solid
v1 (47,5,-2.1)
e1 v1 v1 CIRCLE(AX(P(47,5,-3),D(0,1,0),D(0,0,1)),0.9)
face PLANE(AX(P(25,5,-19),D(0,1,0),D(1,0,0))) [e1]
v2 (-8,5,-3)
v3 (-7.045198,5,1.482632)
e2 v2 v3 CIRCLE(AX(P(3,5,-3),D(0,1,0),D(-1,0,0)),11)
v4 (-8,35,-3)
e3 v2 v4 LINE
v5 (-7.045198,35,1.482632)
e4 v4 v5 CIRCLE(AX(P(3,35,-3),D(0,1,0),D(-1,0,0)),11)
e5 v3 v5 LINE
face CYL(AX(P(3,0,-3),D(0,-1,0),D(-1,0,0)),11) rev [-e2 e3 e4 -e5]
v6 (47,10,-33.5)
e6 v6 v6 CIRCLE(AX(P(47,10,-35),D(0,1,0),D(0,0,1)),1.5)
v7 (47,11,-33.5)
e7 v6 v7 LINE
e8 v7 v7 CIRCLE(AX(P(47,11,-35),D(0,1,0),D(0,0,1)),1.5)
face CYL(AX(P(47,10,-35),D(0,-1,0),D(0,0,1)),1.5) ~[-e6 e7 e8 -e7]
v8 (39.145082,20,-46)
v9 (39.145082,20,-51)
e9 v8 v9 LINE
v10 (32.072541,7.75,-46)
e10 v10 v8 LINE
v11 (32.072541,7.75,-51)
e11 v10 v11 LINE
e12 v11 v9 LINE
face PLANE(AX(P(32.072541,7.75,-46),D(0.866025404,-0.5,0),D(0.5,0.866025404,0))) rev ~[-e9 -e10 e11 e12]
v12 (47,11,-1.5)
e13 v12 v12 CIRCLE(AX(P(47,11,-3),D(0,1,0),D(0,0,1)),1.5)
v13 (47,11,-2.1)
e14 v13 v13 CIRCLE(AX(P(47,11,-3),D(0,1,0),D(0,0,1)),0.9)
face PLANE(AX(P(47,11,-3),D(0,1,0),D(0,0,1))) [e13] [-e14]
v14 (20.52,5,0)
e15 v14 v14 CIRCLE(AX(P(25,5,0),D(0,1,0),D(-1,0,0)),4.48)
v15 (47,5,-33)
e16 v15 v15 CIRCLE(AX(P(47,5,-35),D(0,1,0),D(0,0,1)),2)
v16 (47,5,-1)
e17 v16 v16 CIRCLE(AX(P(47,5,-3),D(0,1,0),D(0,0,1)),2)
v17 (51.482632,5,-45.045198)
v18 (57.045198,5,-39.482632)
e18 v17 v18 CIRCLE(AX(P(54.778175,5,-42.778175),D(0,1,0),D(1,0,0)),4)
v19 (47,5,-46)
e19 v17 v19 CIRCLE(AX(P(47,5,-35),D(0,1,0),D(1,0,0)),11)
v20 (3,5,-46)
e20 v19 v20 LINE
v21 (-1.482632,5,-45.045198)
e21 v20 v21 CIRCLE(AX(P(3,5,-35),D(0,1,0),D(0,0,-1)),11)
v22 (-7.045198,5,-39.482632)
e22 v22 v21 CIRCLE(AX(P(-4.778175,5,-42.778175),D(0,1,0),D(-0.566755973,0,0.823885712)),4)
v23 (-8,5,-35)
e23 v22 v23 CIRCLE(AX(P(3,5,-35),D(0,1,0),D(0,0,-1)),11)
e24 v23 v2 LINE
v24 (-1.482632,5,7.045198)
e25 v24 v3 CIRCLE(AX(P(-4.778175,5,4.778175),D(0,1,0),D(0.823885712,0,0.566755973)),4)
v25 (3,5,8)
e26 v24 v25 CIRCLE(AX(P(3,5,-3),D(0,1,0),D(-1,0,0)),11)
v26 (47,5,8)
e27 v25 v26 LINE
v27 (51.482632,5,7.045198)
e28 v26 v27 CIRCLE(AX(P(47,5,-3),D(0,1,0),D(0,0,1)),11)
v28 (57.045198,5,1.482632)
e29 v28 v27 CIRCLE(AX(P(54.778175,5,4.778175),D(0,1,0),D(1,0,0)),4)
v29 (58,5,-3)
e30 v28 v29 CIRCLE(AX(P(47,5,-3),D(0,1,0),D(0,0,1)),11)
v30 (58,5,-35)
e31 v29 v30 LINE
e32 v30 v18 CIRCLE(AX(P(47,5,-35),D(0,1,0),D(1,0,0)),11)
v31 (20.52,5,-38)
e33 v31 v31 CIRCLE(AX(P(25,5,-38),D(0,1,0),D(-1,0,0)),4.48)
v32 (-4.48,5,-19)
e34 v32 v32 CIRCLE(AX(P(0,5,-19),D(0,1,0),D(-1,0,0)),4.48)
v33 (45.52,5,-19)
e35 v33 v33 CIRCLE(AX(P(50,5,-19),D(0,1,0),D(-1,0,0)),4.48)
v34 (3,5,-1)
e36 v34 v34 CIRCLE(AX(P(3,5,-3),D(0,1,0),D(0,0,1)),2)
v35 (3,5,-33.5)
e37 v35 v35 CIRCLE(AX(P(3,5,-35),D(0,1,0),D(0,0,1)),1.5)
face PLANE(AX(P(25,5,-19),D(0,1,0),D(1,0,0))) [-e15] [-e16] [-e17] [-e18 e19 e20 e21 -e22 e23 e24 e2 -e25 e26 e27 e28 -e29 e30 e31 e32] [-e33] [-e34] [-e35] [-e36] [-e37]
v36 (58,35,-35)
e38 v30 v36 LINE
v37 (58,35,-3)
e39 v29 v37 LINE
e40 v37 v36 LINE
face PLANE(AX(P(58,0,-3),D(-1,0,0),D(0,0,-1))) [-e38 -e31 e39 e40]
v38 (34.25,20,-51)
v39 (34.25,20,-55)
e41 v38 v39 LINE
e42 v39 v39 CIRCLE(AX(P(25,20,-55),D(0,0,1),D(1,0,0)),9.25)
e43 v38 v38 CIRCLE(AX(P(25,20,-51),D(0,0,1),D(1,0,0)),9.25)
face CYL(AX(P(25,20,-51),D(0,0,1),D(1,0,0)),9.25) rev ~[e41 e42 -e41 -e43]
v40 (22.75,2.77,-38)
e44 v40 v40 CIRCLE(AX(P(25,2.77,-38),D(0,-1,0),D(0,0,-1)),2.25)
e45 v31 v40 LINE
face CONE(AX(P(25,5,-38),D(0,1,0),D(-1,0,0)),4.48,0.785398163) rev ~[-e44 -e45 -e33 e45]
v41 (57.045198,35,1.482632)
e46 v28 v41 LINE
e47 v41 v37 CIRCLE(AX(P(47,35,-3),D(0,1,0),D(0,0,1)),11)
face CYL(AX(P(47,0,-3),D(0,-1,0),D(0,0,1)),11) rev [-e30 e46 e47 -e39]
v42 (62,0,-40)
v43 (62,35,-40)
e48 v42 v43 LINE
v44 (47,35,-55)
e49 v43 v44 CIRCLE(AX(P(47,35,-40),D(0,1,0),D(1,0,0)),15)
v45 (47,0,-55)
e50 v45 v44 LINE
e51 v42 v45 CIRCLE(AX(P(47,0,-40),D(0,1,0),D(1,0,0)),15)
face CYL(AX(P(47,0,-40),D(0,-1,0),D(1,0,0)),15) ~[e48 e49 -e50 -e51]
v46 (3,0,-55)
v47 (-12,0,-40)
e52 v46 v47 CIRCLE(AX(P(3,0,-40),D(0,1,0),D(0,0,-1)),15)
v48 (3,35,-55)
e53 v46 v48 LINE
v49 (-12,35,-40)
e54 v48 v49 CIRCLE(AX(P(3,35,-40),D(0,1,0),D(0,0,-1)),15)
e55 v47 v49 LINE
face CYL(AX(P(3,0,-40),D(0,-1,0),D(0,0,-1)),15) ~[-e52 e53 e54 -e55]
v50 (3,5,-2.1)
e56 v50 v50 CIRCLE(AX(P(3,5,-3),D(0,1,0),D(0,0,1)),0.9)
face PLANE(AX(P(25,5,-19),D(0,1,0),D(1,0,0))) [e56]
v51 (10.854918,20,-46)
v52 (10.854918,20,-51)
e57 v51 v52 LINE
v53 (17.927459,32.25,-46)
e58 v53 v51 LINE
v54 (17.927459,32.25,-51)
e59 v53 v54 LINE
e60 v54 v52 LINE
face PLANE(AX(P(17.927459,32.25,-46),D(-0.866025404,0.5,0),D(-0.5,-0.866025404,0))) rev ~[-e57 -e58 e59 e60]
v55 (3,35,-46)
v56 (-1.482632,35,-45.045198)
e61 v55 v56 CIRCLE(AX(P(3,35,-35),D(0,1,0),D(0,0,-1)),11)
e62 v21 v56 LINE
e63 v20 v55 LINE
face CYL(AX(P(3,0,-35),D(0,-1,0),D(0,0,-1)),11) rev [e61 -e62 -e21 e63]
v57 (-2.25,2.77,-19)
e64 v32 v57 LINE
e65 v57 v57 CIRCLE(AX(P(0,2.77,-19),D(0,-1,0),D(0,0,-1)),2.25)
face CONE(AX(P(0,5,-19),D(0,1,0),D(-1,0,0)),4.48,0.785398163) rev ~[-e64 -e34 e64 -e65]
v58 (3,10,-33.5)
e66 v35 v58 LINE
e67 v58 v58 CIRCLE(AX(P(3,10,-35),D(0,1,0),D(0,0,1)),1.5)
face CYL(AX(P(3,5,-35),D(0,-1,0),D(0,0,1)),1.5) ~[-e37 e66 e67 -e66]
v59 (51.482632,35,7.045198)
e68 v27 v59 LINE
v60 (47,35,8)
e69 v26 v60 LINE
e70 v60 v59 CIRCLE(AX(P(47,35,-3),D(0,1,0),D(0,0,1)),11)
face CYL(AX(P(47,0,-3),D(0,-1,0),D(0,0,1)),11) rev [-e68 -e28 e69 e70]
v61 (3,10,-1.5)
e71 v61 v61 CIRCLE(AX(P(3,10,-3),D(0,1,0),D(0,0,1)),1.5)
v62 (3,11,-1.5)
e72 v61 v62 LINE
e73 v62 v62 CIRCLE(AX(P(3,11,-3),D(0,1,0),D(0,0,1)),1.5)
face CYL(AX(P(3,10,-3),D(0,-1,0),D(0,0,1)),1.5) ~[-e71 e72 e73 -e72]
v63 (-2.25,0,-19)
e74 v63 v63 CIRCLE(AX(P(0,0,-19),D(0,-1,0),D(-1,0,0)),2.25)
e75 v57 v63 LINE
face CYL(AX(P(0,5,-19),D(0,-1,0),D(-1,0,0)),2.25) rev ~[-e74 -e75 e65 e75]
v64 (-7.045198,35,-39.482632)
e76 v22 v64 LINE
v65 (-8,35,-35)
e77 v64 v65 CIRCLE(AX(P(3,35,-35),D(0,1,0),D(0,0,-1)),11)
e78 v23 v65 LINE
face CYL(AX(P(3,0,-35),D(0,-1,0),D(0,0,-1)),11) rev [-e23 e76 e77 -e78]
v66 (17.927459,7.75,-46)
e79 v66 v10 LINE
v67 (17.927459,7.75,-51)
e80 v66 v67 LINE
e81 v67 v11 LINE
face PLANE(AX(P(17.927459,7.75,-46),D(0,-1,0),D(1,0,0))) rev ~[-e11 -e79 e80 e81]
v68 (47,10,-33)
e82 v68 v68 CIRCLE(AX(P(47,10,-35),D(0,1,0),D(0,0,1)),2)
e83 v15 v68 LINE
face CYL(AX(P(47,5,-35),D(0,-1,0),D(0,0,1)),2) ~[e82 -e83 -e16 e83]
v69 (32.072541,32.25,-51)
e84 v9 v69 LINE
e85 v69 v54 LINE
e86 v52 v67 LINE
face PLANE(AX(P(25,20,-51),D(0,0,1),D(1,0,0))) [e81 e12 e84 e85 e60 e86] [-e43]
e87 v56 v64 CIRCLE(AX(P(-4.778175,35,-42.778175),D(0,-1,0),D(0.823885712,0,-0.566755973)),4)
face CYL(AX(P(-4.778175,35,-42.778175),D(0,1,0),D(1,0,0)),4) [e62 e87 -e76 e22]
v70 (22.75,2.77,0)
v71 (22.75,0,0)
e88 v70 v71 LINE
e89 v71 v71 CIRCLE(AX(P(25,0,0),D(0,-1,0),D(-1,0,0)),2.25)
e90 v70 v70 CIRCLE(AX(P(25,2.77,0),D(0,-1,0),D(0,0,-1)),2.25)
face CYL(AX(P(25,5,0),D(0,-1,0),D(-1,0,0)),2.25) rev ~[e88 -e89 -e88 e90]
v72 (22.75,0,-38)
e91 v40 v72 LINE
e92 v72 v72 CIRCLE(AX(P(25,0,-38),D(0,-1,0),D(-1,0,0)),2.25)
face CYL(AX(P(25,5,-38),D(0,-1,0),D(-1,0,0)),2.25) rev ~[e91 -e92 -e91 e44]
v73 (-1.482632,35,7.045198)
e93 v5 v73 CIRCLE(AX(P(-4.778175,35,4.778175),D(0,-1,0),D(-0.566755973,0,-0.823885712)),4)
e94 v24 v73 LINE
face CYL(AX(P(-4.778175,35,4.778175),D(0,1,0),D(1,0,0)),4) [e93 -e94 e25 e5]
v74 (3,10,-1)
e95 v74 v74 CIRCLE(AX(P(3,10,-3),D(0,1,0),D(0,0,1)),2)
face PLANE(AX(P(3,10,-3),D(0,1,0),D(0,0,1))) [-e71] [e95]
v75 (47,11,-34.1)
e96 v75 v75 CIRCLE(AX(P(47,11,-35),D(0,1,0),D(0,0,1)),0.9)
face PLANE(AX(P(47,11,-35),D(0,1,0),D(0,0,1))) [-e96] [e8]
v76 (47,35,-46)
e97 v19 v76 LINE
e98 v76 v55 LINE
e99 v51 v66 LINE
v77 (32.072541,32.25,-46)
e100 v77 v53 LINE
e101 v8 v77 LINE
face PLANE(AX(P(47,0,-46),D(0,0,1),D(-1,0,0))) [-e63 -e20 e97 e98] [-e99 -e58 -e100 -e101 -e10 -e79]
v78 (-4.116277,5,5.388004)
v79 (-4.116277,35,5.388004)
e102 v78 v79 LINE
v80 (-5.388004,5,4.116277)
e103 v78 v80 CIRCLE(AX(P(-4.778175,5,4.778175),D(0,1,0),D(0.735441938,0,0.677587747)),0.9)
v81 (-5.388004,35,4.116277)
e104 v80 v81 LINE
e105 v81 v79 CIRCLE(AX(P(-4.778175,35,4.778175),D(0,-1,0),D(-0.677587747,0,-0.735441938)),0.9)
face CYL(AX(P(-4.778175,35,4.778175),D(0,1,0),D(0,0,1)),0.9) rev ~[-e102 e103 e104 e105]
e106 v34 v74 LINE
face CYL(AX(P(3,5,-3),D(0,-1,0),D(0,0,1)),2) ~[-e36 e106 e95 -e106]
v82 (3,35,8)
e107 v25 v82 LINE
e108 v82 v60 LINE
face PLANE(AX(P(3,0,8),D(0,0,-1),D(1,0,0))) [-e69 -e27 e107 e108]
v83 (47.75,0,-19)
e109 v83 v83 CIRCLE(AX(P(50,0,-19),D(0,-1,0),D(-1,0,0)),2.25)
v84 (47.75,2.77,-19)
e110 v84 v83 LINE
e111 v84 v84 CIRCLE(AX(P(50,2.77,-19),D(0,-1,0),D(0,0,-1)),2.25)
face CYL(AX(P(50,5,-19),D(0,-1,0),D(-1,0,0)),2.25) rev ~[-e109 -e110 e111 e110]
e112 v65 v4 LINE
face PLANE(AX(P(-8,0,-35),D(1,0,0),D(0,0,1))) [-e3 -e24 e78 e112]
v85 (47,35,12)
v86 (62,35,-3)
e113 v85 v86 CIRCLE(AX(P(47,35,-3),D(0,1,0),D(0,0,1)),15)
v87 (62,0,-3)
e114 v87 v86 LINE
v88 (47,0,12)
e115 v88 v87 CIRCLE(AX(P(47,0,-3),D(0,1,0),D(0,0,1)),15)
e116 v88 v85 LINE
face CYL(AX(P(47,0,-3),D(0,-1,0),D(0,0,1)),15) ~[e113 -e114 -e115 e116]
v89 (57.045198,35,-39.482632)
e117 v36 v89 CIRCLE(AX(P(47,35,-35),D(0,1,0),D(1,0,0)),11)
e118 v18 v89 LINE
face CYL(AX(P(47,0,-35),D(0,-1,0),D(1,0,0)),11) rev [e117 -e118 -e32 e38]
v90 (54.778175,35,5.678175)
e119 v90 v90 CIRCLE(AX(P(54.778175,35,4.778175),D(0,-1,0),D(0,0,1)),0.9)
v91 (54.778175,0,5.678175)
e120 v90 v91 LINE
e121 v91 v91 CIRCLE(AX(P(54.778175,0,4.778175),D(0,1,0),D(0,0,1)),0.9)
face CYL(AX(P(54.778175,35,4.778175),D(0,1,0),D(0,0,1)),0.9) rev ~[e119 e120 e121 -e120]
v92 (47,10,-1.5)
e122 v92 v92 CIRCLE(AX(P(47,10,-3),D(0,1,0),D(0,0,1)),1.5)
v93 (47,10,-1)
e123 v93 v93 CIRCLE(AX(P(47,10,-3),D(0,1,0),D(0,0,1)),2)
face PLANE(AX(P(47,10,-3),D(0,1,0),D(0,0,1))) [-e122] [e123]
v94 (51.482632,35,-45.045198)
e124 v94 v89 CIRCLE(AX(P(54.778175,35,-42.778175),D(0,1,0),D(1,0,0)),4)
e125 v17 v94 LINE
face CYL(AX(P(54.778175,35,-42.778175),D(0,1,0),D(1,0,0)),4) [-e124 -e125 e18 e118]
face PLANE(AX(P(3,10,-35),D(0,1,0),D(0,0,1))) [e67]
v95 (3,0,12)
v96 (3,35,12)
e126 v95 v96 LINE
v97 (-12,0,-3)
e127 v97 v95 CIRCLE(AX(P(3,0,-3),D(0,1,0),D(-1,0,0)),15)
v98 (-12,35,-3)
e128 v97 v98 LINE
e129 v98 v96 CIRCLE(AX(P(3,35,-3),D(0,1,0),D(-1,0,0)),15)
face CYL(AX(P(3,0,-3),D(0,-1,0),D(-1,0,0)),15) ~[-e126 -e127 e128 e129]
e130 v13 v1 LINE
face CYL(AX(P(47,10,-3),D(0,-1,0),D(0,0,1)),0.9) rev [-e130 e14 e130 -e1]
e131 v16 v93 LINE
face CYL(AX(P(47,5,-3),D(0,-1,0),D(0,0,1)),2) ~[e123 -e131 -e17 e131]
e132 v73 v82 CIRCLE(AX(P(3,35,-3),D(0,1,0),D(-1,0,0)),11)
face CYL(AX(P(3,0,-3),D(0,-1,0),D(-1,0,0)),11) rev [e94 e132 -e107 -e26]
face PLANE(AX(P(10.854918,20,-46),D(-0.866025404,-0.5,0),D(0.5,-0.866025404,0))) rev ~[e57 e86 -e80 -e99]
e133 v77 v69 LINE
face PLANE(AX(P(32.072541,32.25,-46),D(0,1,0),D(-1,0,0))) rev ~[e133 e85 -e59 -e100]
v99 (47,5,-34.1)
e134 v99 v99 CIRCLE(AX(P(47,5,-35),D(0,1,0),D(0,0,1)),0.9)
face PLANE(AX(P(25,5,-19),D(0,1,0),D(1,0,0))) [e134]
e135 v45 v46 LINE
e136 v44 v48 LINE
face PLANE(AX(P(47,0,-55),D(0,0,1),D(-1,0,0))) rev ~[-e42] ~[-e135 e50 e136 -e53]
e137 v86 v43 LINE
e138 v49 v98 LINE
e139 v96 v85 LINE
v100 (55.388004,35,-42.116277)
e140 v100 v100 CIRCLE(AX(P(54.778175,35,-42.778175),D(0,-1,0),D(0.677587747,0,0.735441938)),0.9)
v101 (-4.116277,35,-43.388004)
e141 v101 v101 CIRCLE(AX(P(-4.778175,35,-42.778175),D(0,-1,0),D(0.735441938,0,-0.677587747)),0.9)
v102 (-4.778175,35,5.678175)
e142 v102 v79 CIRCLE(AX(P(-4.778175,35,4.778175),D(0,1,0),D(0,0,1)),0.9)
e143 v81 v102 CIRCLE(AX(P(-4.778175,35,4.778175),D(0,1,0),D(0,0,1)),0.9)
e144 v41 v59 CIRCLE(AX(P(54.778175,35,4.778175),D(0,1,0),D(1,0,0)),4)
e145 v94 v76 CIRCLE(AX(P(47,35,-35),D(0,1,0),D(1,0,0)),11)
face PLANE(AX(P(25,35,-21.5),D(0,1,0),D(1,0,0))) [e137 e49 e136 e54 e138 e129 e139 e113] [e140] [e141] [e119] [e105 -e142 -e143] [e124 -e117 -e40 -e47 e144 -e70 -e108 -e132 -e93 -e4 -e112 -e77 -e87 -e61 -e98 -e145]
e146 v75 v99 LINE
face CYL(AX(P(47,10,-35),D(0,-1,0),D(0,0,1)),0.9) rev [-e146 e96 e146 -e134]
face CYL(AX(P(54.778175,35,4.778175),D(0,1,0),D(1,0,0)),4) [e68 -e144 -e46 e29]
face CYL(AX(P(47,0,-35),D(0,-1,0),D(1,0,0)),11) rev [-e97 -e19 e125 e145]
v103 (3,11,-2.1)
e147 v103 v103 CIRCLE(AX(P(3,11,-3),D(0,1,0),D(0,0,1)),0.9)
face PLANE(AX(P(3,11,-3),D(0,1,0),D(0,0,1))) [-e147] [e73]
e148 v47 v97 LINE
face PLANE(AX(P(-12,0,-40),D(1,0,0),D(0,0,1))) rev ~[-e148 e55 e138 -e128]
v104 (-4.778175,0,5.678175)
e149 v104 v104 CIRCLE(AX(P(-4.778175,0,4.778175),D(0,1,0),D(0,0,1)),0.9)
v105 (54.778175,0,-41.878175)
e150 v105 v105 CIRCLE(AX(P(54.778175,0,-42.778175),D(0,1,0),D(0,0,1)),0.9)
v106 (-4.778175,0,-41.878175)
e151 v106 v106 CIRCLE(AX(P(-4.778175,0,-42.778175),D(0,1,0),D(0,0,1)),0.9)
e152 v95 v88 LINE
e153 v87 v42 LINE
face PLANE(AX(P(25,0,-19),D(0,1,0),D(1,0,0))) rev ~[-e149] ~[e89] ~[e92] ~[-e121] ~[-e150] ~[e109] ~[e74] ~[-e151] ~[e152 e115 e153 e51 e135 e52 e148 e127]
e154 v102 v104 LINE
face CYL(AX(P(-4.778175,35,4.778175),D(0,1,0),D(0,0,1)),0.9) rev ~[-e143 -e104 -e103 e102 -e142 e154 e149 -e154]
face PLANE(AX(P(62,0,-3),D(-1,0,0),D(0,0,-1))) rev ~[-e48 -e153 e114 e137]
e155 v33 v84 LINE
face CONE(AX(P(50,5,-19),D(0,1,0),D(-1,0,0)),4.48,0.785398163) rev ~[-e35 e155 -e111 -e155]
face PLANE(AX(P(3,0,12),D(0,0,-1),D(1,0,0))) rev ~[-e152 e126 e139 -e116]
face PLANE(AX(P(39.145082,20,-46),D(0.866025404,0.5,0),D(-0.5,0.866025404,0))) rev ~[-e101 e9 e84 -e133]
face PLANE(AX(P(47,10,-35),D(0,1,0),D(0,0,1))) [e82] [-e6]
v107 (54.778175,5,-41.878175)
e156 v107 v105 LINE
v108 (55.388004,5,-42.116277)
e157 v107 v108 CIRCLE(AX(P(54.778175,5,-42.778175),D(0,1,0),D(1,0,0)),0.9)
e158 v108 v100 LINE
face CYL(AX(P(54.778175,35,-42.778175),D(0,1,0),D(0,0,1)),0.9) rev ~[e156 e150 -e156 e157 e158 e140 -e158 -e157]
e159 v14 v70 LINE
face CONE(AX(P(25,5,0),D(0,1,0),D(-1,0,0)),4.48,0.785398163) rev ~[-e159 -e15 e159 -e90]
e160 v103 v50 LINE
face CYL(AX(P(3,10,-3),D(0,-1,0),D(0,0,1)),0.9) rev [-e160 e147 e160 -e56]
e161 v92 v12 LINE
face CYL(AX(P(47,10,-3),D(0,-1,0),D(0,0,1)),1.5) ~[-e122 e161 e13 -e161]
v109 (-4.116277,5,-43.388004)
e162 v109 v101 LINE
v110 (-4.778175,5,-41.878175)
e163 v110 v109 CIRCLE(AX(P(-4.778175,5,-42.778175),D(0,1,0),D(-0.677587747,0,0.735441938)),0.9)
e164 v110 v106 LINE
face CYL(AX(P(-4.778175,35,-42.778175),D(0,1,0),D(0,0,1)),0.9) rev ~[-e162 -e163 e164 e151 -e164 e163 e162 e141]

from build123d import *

# Parameters (mm, degrees)
SALIENTE_EXTRUIR1_DEPTH                              = 35
SALIENTE_EXTRUIR2_DEPTH                              = 5
CORTAR_EXTRUIR1_DEPTH                                = 5
CROQUIS4_R                                           = 9.25
CORTAR_EXTRUIR2_DEPTH                                = 5
REFRENTADO_PARA_TORNILLO_TAP_N_CON_CABEZ_D           = 4.5
REFRENTADO_PARA_TORNILLO_TAP_N_CON_CABEZ_CSINK_D     = 8.96
REFRENTADO_PARA_TORNILLO_TAP_N_CON_CABEZ_CSINK_ANGLE = 90
CROQUIS7_R                                           = 2
CROQUIS7_R_2                                         = 0.9
SALIENTE_EXTRUIR3_DEPTH                              = 5
CROQUIS8_R                                           = 1.5
CROQUIS8_R_2                                         = 0.9
SALIENTE_EXTRUIR4_DEPTH                              = 1
CROQUIS9_R                                           = 1.5
SALIENTE_EXTRUIR5_DEPTH                              = 5
SALIENTE_EXTRUIR6_REACH                              = 91.967
CROQUIS10_R                                          = 4
CROQUIS10_R_2                                        = 0.9
CORTAR_EXTRUIR3_REACH                                = 91.967
CROQUIS10_2_R                                        = 0.9


with BuildPart() as part:
    # Croquis2 → Saliente-Extruir1 (new body)
    with BuildSketch(Plane(origin=(0, 0, 0), x_dir=(1, 0, 0), z_dir=(0, 1, 0))):
        with BuildLine():
            Line((62, 3), (62, 35))
            Line((62, 35), (62, 40))
            ThreePointArc((62, 40), (57.606601718, 50.606601718), (47, 55))
            Line((47, 55), (3, 55))
            ThreePointArc((3, 55), (-7.606601718, 50.606601718), (-12, 40))
            Line((-12, 40), (-12, 35))
            Line((-12, 35), (-12, 3))
            ThreePointArc((-12, 3), (-7.606601718, -7.606601718), (3, -12))
            Line((3, -12), (47, -12))
            ThreePointArc((47, -12), (57.606601718, -7.606601718), (62, 3))
        make_face()
        with BuildLine():
            Line((58, 3), (58, 35))
            ThreePointArc((58, 35), (54.778174593, 42.778174593), (47, 46))
            Line((47, 46), (3, 46))
            ThreePointArc((3, 46), (-4.778174593, 42.778174593), (-8, 35))
            Line((-8, 35), (-8, 3))
            ThreePointArc((-8, 3), (-4.778174593, -4.778174593), (3, -8))
            Line((3, -8), (47, -8))
            ThreePointArc((47, -8), (54.778174593, -4.778174593), (58, 3))
        make_face(mode=Mode.SUBTRACT)
    extrude(amount=SALIENTE_EXTRUIR1_DEPTH)

    # Croquis2<2> → Saliente-Extruir2 (add)
    with BuildSketch(Plane(origin=(0, 0, 0), x_dir=(1, 0, 0), z_dir=(0, 1, 0))):
        with BuildLine():
            Line((47, 46), (3, 46))
            ThreePointArc((3, 46), (-4.778174593, 42.778174593), (-8, 35))
            Line((-8, 35), (-8, 3))
            ThreePointArc((-8, 3), (-4.778174593, -4.778174593), (3, -8))
            Line((3, -8), (47, -8))
            ThreePointArc((47, -8), (54.778174593, -4.778174593), (58, 3))
            Line((58, 3), (58, 35))
            ThreePointArc((58, 35), (54.778174593, 42.778174593), (47, 46))
        make_face()
    extrude(amount=SALIENTE_EXTRUIR2_DEPTH)

    # Croquis3 → Cortar-Extruir1 (cut)
    with BuildSketch(Plane.XY.offset(-46)):
        Polygon((39.145081595, 20), (32.072540798, 32.25), (17.927459202, 32.25), (10.854918405, 20), (17.927459202, 7.75), (32.072540798, 7.75), align=None)
    extrude(amount=-CORTAR_EXTRUIR1_DEPTH, mode=Mode.SUBTRACT)

    # Croquis4 → Cortar-Extruir2 (cut)
    with BuildSketch(Plane.XY.offset(-51)):
        with Locations((25, 20)):
            Circle(CROQUIS4_R)
    extrude(amount=-CORTAR_EXTRUIR2_DEPTH, mode=Mode.SUBTRACT)

    # Refrentado para tornillo tapón con cabeza plana de clavija de M41 (through all)
    with Locations(Plane(origin=(0, 5, 0), x_dir=(1, 0, 0), z_dir=(0, 1, 0))):
        with Locations((0, 19), (50, 19), (25, 0), (25, 38)):
            CounterSinkHole(REFRENTADO_PARA_TORNILLO_TAP_N_CON_CABEZ_D / 2, REFRENTADO_PARA_TORNILLO_TAP_N_CON_CABEZ_CSINK_D / 2, counter_sink_angle=REFRENTADO_PARA_TORNILLO_TAP_N_CON_CABEZ_CSINK_ANGLE)

    # Croquis7 → Saliente-Extruir3 (add)
    # profile 1 of 3: a face of its own
    with BuildSketch(Plane(origin=(0, 5, 0), x_dir=(1, 0, 0), z_dir=(0, 1, 0))):
        with Locations(Location((3, 3, 0), (0, 0, 270))):
            Circle(CROQUIS7_R)
        with Locations(Location((3, 3, 0), (0, 0, 270))):
            Circle(CROQUIS7_R_2, mode=Mode.SUBTRACT)
    # profile 2 of 3: a face of its own
    with BuildSketch(Plane(origin=(0, 5, 0), x_dir=(1, 0, 0), z_dir=(0, 1, 0))):
        with Locations(Location((47, 3, 0), (0, 0, 270))):
            Circle(CROQUIS7_R)
        with Locations(Location((47, 3, 0), (0, 0, 270))):
            Circle(CROQUIS7_R_2, mode=Mode.SUBTRACT)
    # profile 3 of 3: a face of its own
    with BuildSketch(Plane(origin=(0, 5, 0), x_dir=(1, 0, 0), z_dir=(0, 1, 0))):
        with Locations(Location((47, 35, 0), (0, 0, 270))):
            Circle(CROQUIS7_R)
        with Locations(Location((47, 35, 0), (0, 0, 270))):
            Circle(CROQUIS7_R_2, mode=Mode.SUBTRACT)
    extrude(amount=SALIENTE_EXTRUIR3_DEPTH)

    # Croquis8 → Saliente-Extruir4 (add)
    # profile 1 of 3: a face of its own
    with BuildSketch(Plane(origin=(0, 10, 0), x_dir=(1, 0, 0), z_dir=(0, 1, 0))):
        with Locations(Location((47, 35, 0), (0, 0, 270))):
            Circle(CROQUIS8_R)
        with Locations(Location((47, 35, 0), (0, 0, 270))):
            Circle(CROQUIS8_R_2, mode=Mode.SUBTRACT)
    # profile 2 of 3: a face of its own
    with BuildSketch(Plane(origin=(0, 10, 0), x_dir=(1, 0, 0), z_dir=(0, 1, 0))):
        with Locations(Location((47, 3, 0), (0, 0, 270))):
            Circle(CROQUIS8_R)
        with Locations(Location((47, 3, 0), (0, 0, 270))):
            Circle(CROQUIS8_R_2, mode=Mode.SUBTRACT)
    # profile 3 of 3: a face of its own
    with BuildSketch(Plane(origin=(0, 10, 0), x_dir=(1, 0, 0), z_dir=(0, 1, 0))):
        with Locations(Location((3, 3, 0), (0, 0, 270))):
            Circle(CROQUIS8_R)
        with Locations(Location((3, 3, 0), (0, 0, 270))):
            Circle(CROQUIS8_R_2, mode=Mode.SUBTRACT)
    extrude(amount=SALIENTE_EXTRUIR4_DEPTH)

    # Croquis9 → Saliente-Extruir5 (add)
    with BuildSketch(Plane(origin=(0, 5, 0), x_dir=(1, 0, 0), z_dir=(0, 1, 0))):
        with Locations(Location((3, 35, 0), (0, 0, 270))):
            Circle(CROQUIS9_R)
    extrude(amount=SALIENTE_EXTRUIR5_DEPTH)

    # Croquis10 → Saliente-Extruir6 (add, up to next)
    with BuildSketch(Plane(origin=(0, 35, 0), x_dir=(1, 0, 0), z_dir=(0, 1, 0)), mode=Mode.PRIVATE) as saliente_extruir6_sk1:
        with Locations((-4.778174593, -4.778174593)):
            Circle(CROQUIS10_R)
        with Locations((-4.778174593, -4.778174593)):
            Circle(CROQUIS10_R_2, mode=Mode.SUBTRACT)
    saliente_extruir6_tool1 = extrude(saliente_extruir6_sk1.sketch, amount=-SALIENTE_EXTRUIR6_REACH, mode=Mode.PRIVATE) - part.part
    # Croquis10 → Saliente-Extruir6 (add, up to next)
    with BuildSketch(Plane(origin=(0, 35, 0), x_dir=(1, 0, 0), z_dir=(0, 1, 0)), mode=Mode.PRIVATE) as saliente_extruir6_sk2:
        with Locations((-4.778174593, 42.778174593)):
            Circle(CROQUIS10_R)
        with Locations((-4.778174593, 42.778174593)):
            Circle(CROQUIS10_R_2, mode=Mode.SUBTRACT)
    saliente_extruir6_tool2 = extrude(saliente_extruir6_sk2.sketch, amount=-SALIENTE_EXTRUIR6_REACH, mode=Mode.PRIVATE) - part.part
    # Croquis10 → Saliente-Extruir6 (add, up to next)
    with BuildSketch(Plane(origin=(0, 35, 0), x_dir=(1, 0, 0), z_dir=(0, 1, 0)), mode=Mode.PRIVATE) as saliente_extruir6_sk3:
        with Locations((54.778174593, 42.778174593)):
            Circle(CROQUIS10_R)
        with Locations((54.778174593, 42.778174593)):
            Circle(CROQUIS10_R_2, mode=Mode.SUBTRACT)
    saliente_extruir6_tool3 = extrude(saliente_extruir6_sk3.sketch, amount=-SALIENTE_EXTRUIR6_REACH, mode=Mode.PRIVATE) - part.part
    # Croquis10 → Saliente-Extruir6 (add, up to next)
    with BuildSketch(Plane(origin=(0, 35, 0), x_dir=(1, 0, 0), z_dir=(0, 1, 0)), mode=Mode.PRIVATE) as saliente_extruir6_sk4:
        with Locations((54.778174593, -4.778174593)):
            Circle(CROQUIS10_R)
        with Locations((54.778174593, -4.778174593)):
            Circle(CROQUIS10_R_2, mode=Mode.SUBTRACT)
    saliente_extruir6_tool4 = extrude(saliente_extruir6_sk4.sketch, amount=-SALIENTE_EXTRUIR6_REACH, mode=Mode.PRIVATE) - part.part
    add(saliente_extruir6_tool1.solids().sort_by_distance((-8.665038, 35, 4.778175))[0])
    add(saliente_extruir6_tool2.solids().sort_by_distance((-8.665038, 35, -42.778175))[0])
    add(saliente_extruir6_tool3.solids().sort_by_distance((50.891312, 35, -42.778175))[0])
    add(saliente_extruir6_tool4.solids().sort_by_distance((50.891312, 35, 4.778175))[0])

    # Croquis10<2> → Cortar-Extruir3 (cut, up to next)
    with BuildSketch(Plane(origin=(0, 35, 0), x_dir=(1, 0, 0), z_dir=(0, 1, 0)), mode=Mode.PRIVATE) as cortar_extruir3_sk1:
        with Locations(Location((-4.778174593, -4.778174593, 0), (0, 0, 270))):
            Circle(CROQUIS10_2_R)
    cortar_extruir3_tool1 = extrude(cortar_extruir3_sk1.sketch, amount=-CORTAR_EXTRUIR3_REACH, mode=Mode.PRIVATE) & part.part
    # Croquis10<2> → Cortar-Extruir3 (cut, up to next)
    with BuildSketch(Plane(origin=(0, 35, 0), x_dir=(1, 0, 0), z_dir=(0, 1, 0)), mode=Mode.PRIVATE) as cortar_extruir3_sk2:
        with Locations(Location((54.778174593, -4.778174593, 0), (0, 0, 270))):
            Circle(CROQUIS10_2_R)
    cortar_extruir3_tool2 = extrude(cortar_extruir3_sk2.sketch, amount=-CORTAR_EXTRUIR3_REACH, mode=Mode.PRIVATE) & part.part
    # Croquis10<2> → Cortar-Extruir3 (cut, up to next)
    with BuildSketch(Plane(origin=(0, 35, 0), x_dir=(1, 0, 0), z_dir=(0, 1, 0)), mode=Mode.PRIVATE) as cortar_extruir3_sk3:
        with Locations(Location((-4.778174593, 42.778174593, 0), (0, 0, 270))):
            Circle(CROQUIS10_2_R)
    cortar_extruir3_tool3 = extrude(cortar_extruir3_sk3.sketch, amount=-CORTAR_EXTRUIR3_REACH, mode=Mode.PRIVATE) & part.part
    # Croquis10<2> → Cortar-Extruir3 (cut, up to next)
    with BuildSketch(Plane(origin=(0, 35, 0), x_dir=(1, 0, 0), z_dir=(0, 1, 0)), mode=Mode.PRIVATE) as cortar_extruir3_sk4:
        with Locations(Location((54.778174593, 42.778174593, 0), (0, 0, 270))):
            Circle(CROQUIS10_2_R)
    cortar_extruir3_tool4 = extrude(cortar_extruir3_sk4.sketch, amount=-CORTAR_EXTRUIR3_REACH, mode=Mode.PRIVATE) & part.part
    add(cortar_extruir3_tool1.solids().sort_by_distance((-4.778175, 35, 4.778175))[0], mode=Mode.SUBTRACT)
    add(cortar_extruir3_tool2.solids().sort_by_distance((54.778175, 35, 4.778175))[0], mode=Mode.SUBTRACT)
    add(cortar_extruir3_tool3.solids().sort_by_distance((-4.778175, 35, -42.778175))[0], mode=Mode.SUBTRACT)
    add(cortar_extruir3_tool4.solids().sort_by_distance((54.778175, 35, -42.778175))[0], mode=Mode.SUBTRACT)


solid = part.part
